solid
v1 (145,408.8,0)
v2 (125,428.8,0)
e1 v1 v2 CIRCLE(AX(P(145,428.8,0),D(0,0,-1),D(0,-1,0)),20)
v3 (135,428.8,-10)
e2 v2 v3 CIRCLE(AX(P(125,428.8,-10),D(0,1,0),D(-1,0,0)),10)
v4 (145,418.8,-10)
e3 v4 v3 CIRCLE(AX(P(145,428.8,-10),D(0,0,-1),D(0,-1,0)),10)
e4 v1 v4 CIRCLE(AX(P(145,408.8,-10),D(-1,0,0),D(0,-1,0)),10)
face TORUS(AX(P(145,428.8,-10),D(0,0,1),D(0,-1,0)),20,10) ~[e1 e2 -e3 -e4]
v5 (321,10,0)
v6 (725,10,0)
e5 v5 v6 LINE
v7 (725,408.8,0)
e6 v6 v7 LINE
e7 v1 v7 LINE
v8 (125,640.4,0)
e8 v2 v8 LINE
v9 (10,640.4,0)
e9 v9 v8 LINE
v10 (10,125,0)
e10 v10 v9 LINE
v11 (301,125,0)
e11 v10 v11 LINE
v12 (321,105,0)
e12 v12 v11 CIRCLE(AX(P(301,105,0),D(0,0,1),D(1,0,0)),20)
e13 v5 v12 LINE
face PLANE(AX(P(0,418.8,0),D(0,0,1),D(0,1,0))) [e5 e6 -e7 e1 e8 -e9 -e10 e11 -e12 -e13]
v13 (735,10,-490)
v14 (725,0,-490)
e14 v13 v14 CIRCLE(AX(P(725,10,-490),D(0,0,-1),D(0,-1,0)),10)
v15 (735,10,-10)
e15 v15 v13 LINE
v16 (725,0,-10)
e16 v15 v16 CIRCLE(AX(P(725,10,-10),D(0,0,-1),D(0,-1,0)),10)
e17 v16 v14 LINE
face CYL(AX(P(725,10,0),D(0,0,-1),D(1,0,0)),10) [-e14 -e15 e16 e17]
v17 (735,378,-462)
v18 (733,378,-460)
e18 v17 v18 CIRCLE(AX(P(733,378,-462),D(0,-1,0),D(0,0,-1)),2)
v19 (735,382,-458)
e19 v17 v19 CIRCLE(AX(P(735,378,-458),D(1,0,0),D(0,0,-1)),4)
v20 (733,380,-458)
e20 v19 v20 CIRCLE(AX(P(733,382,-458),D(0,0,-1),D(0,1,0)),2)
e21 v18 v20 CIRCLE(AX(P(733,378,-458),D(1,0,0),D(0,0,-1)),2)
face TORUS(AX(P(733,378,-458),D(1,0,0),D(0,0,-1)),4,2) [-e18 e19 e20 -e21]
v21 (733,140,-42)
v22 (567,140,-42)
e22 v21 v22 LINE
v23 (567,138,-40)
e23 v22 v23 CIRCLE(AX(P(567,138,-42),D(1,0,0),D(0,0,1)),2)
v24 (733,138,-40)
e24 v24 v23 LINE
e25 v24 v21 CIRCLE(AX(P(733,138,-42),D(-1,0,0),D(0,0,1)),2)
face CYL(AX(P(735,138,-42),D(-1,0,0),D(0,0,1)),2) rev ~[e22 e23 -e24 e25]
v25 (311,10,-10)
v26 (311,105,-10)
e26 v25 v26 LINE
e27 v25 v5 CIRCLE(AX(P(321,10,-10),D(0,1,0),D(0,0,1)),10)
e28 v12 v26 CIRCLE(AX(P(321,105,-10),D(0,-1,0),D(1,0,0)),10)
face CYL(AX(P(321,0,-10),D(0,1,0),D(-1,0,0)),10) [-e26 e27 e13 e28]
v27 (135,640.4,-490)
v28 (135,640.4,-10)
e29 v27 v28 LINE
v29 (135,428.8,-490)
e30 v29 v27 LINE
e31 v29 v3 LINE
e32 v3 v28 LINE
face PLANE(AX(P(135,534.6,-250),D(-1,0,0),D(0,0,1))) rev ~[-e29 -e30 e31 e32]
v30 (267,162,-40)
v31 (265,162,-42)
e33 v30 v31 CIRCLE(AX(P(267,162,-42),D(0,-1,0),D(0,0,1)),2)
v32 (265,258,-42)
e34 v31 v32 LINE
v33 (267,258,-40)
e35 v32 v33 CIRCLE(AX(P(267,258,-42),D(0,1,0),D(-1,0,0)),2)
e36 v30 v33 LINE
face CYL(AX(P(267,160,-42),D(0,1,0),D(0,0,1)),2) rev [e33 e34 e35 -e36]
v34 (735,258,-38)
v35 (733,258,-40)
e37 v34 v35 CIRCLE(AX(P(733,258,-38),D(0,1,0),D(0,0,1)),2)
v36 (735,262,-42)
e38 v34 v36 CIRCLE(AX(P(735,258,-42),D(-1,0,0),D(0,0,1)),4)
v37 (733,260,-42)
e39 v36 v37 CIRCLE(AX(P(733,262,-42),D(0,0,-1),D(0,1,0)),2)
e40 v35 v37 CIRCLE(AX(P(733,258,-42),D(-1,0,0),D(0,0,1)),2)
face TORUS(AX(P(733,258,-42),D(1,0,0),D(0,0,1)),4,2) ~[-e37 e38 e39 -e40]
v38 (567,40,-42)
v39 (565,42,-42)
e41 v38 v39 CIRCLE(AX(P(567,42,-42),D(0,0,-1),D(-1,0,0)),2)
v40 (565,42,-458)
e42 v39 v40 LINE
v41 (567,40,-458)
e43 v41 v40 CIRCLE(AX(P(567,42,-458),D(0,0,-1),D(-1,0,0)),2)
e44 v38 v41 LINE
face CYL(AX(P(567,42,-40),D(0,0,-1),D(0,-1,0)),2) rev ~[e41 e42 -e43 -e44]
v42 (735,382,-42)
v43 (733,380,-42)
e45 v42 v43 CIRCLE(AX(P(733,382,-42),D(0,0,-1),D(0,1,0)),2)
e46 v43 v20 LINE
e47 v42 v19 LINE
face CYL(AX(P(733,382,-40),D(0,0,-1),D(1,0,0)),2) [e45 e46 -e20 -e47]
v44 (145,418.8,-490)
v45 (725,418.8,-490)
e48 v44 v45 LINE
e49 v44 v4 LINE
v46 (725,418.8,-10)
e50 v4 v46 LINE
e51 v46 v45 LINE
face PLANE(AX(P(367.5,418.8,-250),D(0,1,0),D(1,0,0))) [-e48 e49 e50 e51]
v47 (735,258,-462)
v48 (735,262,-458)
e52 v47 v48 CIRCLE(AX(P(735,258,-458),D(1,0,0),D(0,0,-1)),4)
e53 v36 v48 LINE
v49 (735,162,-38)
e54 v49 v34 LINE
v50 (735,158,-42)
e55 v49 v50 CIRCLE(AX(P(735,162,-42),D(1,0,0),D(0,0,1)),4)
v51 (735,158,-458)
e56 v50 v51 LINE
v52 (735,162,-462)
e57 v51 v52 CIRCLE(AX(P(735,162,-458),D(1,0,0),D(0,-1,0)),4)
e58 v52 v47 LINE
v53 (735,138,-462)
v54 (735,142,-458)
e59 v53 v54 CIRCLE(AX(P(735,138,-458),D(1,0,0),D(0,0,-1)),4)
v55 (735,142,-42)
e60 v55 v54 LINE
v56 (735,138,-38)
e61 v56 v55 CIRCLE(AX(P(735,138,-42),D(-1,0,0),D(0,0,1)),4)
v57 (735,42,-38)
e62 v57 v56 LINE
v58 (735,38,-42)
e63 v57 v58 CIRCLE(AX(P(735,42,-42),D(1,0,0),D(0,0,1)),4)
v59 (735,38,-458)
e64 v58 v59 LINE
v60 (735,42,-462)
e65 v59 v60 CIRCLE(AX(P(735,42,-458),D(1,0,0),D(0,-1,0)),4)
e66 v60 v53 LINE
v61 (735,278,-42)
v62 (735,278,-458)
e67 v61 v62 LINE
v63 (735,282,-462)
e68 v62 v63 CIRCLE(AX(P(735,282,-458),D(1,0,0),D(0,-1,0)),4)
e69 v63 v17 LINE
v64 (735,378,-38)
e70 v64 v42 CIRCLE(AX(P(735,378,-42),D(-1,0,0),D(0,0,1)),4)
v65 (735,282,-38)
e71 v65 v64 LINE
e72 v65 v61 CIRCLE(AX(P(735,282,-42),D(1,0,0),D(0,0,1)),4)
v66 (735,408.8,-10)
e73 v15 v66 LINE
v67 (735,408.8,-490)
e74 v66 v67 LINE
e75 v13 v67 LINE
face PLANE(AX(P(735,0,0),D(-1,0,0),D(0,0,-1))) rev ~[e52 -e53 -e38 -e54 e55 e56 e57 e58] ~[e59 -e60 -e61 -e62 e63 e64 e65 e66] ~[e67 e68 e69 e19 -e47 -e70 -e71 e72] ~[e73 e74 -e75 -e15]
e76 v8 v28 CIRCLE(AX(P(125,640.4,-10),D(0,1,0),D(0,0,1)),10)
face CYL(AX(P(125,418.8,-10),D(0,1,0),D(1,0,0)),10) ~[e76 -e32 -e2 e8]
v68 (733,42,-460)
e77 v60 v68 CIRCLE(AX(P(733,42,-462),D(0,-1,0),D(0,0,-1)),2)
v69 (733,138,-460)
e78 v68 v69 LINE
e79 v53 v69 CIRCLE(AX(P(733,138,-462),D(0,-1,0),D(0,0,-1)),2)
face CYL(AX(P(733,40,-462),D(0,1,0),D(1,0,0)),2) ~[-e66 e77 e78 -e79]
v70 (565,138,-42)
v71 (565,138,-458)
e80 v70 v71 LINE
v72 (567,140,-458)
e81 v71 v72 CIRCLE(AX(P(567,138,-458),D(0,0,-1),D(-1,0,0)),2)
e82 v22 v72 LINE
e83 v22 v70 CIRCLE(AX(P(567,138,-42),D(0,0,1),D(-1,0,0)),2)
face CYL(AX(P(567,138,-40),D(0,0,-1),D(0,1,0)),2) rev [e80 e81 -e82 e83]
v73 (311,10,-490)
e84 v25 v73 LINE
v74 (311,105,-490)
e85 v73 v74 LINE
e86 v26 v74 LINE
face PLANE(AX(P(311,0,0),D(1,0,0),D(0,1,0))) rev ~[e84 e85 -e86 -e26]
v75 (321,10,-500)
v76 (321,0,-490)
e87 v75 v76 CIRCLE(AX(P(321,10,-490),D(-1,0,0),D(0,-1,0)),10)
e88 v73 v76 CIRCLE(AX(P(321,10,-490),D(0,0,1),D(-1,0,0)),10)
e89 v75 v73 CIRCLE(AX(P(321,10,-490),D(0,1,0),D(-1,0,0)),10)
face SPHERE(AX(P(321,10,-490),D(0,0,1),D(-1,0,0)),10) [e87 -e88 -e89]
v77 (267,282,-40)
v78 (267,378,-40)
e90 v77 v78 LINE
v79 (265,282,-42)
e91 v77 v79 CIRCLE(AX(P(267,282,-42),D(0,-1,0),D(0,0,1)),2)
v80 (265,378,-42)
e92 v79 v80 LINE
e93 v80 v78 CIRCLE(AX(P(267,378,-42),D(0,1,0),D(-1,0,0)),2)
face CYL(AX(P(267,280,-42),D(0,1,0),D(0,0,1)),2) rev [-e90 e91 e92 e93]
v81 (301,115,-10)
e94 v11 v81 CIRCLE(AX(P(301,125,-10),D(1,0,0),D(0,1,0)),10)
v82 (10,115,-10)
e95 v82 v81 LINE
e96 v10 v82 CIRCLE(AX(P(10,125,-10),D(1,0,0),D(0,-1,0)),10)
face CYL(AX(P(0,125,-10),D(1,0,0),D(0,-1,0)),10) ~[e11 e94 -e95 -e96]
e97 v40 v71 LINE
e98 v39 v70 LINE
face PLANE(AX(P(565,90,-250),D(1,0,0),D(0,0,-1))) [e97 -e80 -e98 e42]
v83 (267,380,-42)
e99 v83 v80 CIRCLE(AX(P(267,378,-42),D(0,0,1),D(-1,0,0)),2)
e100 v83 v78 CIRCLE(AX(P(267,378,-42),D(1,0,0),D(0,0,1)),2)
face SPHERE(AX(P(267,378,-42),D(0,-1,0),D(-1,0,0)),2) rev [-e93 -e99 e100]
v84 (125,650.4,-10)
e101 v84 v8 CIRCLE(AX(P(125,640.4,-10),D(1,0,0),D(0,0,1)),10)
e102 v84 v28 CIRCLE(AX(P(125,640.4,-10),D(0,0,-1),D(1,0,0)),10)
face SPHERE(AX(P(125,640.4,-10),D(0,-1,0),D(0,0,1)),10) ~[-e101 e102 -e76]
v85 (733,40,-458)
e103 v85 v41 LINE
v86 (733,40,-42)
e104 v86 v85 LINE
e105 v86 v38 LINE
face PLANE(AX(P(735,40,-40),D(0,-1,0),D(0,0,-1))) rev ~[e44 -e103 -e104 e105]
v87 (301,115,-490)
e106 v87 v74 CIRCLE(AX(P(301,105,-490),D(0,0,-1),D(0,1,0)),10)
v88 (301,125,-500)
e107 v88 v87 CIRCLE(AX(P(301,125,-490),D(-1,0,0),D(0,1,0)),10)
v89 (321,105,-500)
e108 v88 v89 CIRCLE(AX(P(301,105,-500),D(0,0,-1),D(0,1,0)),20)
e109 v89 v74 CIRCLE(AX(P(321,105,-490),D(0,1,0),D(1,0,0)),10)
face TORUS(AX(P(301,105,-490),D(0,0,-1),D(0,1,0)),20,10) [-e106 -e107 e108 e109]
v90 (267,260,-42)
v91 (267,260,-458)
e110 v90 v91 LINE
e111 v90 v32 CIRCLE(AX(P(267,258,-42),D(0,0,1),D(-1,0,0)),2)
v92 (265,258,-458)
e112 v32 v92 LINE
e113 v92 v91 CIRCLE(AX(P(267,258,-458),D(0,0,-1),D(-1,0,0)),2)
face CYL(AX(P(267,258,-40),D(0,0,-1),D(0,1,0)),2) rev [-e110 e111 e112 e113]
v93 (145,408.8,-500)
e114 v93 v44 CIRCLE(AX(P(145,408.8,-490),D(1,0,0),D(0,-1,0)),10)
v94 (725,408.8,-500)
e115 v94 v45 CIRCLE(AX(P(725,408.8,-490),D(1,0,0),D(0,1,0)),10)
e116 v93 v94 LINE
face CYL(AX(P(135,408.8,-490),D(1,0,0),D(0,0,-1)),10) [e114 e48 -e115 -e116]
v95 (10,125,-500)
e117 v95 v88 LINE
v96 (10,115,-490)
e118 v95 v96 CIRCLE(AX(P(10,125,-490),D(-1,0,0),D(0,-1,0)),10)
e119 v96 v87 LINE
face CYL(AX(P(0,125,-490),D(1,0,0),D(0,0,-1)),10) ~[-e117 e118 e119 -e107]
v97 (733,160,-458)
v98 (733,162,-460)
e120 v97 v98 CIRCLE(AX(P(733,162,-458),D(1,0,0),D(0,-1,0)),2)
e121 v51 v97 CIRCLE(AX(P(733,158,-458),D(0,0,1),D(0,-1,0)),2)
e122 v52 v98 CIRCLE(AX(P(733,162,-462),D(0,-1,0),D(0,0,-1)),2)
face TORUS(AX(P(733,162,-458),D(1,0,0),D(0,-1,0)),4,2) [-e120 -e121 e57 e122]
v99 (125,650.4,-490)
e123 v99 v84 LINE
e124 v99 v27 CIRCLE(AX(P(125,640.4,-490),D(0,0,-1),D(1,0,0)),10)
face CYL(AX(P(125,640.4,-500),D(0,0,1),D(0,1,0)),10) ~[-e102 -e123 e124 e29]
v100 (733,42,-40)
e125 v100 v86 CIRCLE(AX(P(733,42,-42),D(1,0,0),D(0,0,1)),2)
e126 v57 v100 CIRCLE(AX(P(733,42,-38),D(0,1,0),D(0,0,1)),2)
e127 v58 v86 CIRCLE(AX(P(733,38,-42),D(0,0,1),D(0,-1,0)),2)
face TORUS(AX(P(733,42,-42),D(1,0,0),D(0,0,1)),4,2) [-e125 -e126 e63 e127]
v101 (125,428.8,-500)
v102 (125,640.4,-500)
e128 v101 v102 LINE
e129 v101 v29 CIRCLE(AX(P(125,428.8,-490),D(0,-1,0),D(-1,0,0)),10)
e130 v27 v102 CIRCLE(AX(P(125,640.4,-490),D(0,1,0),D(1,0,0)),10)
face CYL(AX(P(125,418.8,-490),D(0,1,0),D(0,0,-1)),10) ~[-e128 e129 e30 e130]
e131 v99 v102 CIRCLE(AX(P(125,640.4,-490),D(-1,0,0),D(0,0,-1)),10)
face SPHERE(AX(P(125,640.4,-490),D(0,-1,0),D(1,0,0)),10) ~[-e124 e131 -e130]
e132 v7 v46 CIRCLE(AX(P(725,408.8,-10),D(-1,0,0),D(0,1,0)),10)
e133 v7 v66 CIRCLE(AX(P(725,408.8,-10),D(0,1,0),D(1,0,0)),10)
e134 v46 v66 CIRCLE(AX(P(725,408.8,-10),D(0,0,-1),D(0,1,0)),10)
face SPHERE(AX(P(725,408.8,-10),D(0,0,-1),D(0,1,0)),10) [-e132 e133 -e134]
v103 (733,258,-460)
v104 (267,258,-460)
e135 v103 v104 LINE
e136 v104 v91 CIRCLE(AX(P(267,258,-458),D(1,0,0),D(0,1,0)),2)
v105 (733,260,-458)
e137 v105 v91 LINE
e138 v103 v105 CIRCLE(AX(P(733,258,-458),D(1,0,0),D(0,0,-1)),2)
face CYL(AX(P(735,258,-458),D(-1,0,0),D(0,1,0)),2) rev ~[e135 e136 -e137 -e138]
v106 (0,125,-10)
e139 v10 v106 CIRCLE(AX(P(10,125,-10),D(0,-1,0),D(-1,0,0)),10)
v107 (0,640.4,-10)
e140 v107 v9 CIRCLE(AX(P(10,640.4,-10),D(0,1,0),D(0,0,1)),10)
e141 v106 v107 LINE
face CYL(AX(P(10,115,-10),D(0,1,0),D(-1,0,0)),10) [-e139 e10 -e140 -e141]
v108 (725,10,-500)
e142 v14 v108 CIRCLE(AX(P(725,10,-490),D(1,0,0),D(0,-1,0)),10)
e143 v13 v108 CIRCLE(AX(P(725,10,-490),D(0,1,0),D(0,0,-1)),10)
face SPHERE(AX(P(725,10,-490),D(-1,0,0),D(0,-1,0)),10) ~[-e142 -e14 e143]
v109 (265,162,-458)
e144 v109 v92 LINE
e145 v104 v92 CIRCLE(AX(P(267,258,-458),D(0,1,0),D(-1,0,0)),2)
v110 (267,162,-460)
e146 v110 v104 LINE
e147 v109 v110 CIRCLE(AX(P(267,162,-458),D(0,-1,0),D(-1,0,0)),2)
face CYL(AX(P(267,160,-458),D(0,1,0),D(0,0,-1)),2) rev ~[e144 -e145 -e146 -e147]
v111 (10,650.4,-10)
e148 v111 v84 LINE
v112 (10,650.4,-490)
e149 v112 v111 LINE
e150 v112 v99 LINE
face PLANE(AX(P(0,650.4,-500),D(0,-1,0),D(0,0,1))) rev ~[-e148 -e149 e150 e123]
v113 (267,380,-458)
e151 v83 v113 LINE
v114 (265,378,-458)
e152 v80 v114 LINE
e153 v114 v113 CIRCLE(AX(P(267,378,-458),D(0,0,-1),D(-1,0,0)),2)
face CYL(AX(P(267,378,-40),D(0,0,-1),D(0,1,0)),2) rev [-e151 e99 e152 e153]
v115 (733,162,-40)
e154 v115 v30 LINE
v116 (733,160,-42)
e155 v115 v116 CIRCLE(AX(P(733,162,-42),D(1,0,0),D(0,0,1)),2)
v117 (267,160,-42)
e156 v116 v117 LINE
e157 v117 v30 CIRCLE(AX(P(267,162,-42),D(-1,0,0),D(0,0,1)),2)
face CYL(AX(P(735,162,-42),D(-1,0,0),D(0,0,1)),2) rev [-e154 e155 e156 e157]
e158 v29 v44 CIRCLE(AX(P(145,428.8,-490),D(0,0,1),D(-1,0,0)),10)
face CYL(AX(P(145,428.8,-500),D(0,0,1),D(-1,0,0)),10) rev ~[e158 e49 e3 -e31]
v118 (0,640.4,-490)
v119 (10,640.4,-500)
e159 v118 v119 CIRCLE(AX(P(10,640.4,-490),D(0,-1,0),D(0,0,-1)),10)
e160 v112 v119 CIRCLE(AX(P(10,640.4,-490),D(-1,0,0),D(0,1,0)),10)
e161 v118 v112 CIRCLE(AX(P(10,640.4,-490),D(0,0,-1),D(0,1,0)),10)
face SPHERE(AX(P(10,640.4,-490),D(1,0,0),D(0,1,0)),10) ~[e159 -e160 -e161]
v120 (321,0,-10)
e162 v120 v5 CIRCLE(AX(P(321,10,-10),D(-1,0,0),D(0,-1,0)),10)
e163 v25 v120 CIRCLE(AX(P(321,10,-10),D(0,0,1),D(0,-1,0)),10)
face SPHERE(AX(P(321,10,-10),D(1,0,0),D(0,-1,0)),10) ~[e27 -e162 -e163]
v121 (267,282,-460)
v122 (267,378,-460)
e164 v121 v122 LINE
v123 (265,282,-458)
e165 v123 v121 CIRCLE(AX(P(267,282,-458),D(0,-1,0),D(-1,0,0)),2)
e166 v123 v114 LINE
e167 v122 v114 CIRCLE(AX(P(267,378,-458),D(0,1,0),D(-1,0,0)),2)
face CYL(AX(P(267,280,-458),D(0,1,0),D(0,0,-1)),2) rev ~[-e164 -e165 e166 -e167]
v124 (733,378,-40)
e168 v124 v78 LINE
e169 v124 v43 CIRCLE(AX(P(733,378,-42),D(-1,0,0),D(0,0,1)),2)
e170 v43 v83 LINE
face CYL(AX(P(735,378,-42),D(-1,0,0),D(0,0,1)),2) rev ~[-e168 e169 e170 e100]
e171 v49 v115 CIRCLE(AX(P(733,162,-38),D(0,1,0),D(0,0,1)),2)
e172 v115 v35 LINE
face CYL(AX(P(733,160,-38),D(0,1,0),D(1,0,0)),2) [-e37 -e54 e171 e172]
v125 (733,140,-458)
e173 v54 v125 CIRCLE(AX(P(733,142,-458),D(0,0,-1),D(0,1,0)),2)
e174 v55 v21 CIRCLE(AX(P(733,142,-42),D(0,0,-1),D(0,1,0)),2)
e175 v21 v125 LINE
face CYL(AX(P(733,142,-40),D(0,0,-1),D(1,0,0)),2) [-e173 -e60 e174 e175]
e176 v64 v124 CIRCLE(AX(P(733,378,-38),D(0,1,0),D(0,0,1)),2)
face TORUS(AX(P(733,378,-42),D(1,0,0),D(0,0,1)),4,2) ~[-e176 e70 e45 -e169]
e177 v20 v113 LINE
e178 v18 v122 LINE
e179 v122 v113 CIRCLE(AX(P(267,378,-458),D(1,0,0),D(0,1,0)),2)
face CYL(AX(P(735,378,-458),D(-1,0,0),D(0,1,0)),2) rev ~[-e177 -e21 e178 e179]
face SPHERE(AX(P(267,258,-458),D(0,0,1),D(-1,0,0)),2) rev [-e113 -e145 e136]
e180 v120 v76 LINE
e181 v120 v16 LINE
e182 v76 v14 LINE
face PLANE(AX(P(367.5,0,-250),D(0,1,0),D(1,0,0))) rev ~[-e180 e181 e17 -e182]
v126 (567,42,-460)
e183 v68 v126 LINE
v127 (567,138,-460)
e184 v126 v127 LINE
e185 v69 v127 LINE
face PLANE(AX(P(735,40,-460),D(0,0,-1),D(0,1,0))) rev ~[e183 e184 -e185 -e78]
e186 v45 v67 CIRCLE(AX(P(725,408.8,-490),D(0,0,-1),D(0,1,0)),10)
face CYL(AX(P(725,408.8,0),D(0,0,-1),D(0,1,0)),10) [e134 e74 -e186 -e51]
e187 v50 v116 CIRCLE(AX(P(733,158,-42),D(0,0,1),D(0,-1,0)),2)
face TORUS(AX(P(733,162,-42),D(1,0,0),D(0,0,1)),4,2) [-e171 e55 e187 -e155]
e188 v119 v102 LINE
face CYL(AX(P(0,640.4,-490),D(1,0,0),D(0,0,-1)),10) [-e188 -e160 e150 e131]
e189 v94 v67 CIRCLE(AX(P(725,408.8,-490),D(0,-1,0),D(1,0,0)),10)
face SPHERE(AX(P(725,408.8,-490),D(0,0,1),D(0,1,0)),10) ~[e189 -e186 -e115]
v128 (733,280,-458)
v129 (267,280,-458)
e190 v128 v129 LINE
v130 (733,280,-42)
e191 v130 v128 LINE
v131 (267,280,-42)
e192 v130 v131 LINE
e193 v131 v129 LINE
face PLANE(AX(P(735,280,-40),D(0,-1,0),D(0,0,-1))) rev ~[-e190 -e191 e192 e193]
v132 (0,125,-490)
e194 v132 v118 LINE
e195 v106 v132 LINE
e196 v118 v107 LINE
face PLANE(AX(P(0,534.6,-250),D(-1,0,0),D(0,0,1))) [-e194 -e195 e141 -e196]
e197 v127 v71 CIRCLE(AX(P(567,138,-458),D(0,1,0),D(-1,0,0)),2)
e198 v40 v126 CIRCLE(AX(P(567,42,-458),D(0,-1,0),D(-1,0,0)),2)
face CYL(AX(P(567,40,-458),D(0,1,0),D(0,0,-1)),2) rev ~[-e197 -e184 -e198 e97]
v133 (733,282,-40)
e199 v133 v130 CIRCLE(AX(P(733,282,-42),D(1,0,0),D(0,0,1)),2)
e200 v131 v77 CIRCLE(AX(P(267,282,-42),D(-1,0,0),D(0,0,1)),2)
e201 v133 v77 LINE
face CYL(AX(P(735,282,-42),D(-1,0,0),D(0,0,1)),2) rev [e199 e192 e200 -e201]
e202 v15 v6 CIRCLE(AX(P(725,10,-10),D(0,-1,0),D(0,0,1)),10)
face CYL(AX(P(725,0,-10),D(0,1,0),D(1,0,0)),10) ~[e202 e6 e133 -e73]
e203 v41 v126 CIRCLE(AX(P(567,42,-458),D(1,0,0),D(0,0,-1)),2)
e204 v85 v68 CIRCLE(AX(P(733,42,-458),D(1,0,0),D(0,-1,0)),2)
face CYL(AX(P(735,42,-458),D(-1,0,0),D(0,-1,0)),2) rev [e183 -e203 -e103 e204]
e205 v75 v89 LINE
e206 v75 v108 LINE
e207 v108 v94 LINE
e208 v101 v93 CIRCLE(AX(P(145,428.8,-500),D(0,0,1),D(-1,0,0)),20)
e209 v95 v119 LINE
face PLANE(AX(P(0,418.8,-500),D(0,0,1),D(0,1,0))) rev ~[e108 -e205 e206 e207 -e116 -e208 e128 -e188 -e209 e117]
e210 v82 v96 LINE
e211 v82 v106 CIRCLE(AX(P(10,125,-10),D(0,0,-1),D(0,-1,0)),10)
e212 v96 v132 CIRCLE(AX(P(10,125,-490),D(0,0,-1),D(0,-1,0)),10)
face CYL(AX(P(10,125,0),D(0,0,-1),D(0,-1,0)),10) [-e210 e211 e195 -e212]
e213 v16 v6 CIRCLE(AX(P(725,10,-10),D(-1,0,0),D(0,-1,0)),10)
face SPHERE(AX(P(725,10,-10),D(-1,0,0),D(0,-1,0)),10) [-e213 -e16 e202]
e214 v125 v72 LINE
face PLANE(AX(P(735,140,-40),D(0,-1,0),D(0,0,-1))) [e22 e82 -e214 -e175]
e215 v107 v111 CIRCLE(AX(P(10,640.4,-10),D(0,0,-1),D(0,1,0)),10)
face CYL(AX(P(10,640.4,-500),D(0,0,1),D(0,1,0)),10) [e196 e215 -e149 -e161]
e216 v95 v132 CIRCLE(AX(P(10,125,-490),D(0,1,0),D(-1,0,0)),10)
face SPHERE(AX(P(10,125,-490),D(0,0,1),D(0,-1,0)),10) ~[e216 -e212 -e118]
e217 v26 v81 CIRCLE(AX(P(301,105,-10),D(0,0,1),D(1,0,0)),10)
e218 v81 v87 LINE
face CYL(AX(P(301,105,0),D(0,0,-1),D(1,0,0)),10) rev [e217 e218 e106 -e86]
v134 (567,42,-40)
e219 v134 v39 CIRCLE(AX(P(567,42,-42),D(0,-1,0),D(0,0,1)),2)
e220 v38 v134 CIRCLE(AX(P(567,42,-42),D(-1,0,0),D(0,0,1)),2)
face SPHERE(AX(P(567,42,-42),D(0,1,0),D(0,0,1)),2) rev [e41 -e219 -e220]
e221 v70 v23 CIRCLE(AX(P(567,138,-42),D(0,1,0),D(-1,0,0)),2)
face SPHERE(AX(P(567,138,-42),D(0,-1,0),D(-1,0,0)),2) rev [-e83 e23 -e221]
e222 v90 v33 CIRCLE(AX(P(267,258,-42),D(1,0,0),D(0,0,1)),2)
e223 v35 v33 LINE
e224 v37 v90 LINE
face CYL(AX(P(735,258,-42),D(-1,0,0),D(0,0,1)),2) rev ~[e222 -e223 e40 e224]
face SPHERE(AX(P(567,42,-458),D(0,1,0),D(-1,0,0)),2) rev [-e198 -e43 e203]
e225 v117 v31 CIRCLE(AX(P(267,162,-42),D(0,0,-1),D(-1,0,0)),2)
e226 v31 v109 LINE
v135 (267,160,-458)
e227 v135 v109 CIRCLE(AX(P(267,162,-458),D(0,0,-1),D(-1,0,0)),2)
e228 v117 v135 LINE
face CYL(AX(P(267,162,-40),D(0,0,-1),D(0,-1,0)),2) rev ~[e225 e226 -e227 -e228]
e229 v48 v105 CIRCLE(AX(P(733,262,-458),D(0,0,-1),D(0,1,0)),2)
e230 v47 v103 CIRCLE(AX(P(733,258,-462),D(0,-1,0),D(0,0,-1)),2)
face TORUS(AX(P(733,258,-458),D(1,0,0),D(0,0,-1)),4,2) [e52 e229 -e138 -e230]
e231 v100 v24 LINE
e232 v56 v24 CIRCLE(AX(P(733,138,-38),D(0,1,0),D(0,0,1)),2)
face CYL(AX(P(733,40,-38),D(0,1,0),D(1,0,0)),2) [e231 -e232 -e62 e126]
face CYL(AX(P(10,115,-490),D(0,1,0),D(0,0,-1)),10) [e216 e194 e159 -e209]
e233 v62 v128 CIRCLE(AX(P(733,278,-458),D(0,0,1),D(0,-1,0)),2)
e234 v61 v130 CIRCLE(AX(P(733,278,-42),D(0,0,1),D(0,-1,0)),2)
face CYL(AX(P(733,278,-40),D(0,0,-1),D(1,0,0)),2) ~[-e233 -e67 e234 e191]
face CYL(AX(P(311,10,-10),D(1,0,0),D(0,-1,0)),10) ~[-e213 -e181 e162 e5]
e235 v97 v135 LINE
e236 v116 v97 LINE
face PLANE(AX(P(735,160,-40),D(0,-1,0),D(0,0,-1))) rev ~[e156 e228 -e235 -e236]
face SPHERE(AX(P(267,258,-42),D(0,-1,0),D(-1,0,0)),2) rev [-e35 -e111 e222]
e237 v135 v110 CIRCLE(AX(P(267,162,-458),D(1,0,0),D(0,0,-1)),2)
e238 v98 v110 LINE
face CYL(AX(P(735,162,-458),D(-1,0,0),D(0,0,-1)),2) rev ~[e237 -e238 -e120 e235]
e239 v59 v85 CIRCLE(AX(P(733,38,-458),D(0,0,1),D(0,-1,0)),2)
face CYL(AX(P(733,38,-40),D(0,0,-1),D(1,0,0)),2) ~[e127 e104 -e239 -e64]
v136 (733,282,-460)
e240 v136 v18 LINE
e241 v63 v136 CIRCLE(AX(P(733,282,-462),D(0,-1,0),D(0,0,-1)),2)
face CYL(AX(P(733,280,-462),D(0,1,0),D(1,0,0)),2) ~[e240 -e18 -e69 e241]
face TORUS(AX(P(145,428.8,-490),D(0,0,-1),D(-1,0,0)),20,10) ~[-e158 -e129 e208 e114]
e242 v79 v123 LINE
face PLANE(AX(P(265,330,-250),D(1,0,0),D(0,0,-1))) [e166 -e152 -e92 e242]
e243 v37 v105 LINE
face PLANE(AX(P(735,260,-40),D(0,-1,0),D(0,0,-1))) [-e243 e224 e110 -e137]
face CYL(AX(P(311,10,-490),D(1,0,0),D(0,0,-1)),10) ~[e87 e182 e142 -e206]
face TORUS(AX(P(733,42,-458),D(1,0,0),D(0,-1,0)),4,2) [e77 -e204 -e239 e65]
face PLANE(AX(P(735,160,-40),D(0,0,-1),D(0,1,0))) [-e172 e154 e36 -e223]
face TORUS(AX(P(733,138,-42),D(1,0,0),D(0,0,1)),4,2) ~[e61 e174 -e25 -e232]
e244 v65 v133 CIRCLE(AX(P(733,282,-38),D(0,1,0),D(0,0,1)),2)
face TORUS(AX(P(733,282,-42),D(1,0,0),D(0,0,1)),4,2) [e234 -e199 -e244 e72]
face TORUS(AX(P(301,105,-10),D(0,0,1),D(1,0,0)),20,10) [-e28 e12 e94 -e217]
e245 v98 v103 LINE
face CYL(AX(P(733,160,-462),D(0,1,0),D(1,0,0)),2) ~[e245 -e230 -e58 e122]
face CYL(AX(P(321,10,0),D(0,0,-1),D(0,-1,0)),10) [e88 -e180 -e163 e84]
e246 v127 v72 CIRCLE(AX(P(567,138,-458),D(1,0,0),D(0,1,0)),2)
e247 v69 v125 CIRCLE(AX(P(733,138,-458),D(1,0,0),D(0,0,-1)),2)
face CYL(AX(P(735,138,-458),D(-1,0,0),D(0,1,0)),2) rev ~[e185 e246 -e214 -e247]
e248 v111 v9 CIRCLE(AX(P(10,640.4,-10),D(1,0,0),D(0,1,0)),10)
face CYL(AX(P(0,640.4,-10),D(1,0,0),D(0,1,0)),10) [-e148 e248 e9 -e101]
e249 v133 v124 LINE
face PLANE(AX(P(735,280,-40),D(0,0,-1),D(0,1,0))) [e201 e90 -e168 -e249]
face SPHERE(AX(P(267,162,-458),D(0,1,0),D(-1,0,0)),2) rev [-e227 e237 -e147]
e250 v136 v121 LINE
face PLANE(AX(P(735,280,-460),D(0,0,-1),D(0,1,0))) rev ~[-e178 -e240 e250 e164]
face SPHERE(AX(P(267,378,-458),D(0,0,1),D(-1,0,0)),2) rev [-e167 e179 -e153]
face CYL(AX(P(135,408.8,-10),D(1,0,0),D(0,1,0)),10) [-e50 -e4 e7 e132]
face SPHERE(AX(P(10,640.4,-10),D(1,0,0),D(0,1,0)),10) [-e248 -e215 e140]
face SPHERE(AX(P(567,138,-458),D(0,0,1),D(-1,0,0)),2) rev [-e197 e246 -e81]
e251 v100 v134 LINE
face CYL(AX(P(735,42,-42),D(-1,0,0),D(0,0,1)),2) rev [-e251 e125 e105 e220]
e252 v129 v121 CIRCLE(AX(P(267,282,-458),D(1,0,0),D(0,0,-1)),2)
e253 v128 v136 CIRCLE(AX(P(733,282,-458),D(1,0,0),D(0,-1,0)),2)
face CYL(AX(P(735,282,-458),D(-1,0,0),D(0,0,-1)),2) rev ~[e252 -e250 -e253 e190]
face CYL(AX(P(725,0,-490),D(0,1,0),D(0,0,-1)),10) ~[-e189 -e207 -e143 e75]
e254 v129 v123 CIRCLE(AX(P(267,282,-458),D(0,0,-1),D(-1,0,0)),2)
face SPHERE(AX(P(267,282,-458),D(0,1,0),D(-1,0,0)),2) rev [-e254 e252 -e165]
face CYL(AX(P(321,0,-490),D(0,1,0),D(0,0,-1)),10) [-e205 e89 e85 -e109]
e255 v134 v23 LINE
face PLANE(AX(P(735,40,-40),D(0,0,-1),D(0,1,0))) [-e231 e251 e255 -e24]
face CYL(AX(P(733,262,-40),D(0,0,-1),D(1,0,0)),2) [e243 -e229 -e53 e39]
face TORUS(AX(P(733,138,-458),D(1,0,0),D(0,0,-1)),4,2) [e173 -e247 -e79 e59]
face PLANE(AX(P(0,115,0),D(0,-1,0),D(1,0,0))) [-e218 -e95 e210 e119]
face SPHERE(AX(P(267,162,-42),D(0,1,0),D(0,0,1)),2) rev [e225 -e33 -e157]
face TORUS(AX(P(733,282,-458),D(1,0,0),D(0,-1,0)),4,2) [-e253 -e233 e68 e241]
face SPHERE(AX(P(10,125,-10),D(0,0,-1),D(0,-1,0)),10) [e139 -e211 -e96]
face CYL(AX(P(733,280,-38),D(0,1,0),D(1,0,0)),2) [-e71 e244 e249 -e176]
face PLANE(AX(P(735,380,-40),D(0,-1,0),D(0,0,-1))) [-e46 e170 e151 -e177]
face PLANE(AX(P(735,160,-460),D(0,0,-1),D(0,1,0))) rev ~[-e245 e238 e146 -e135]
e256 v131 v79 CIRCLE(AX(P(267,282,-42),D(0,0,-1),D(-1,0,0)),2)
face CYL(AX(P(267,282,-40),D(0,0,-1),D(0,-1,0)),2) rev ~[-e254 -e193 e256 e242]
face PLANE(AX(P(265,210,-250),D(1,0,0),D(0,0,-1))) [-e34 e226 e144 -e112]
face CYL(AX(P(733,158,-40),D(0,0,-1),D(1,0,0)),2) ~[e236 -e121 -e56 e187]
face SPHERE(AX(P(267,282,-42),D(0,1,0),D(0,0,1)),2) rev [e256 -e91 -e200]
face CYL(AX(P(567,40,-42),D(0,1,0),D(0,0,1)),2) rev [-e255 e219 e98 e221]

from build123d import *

# Parameters (mm, degrees)
SKETCH1_W           = 735
SKETCH1_H           = 500
BOSS_EXTRUDE1_DEPTH = 418.8
SKETCH6_W           = 500
SKETCH6_H           = 231.6
BOSS_EXTRUDE2_DEPTH = 135
SKETCH2_W           = 311
SKETCH2_H           = 115
CUT_EXTRUDE1_DEPTH  = 500
FILLET1_R           = 10
SKETCH4_W           = 420
SKETCH4_H           = 100
CUT_EXTRUDE2_DEPTH  = 170
SKETCH5_W           = 420
SKETCH5_H           = 100
CUT_EXTRUDE3_DEPTH  = 470
FILLET2_R           = 2


with BuildPart() as part:
    # Sketch1 → Boss-Extrude1 (new body)
    with BuildSketch(Plane(origin=(0, 0, 0), x_dir=(1, 0, 0), z_dir=(0, 1, 0))):
        with Locations((367.5, 250)):
            Rectangle(SKETCH1_W, SKETCH1_H)
    extrude(amount=BOSS_EXTRUDE1_DEPTH)

    # Sketch6 → Boss-Extrude2 (add)
    with BuildSketch(Plane.ZY):
        with Locations((-250, 534.6)):
            Rectangle(SKETCH6_W, SKETCH6_H)
    extrude(amount=-BOSS_EXTRUDE2_DEPTH)

    # Sketch2 → Cut-Extrude1 (cut)
    with BuildSketch(Plane.XY):
        with Locations((155.5, 57.5)):
            Rectangle(SKETCH2_W, SKETCH2_H)
    extrude(amount=-CUT_EXTRUDE1_DEPTH, mode=Mode.SUBTRACT)

    # Fillet1
    fillet1_edges = [part.edges().sort_by_distance(p)[0] for p in [
        (735, 418.8, -250),
        (435, 418.8, 0),
        (135, 534.6, 0),
        (67.5, 650.4, 0),
        (135, 418.8, -250),
        (135, 534.6, -500),
        (135, 650.4, -250),
        (67.5, 650.4, -500),
        (435, 418.8, -500),
        (0, 650.4, -250),
        (523, 0, 0),
        (0, 115, -250),
        (311, 115, -250),
        (311, 0, -250),
        (311, 57.5, 0),
        (155.5, 115, 0),
        (155.5, 115, -500),
        (311, 57.5, -500),
        (523, 0, -500),
        (735, 0, -250),
        (0, 382.7, -500),
        (735, 209.4, -500),
        (735, 209.4, 0),
        (0, 382.7, 0),
    ]]
    fillet(fillet1_edges, radius=FILLET1_R)

    # Sketch4 → Cut-Extrude2 (cut)
    with BuildSketch(Plane(origin=(735, 0, 0), x_dir=(0, 0, -1), z_dir=(1, 0, 0))):
        with Locations((250, 90)):
            Rectangle(SKETCH4_W, SKETCH4_H)
    extrude(amount=-CUT_EXTRUDE2_DEPTH, mode=Mode.SUBTRACT)

    # Sketch5 → Cut-Extrude3 (cut)
    with BuildSketch(Plane(origin=(735, 0, 0), x_dir=(0, 0, -1), z_dir=(1, 0, 0))):
        with Locations((250, 210)):
            Rectangle(SKETCH5_W, SKETCH5_H)
        with Locations((250, 330)):
            Rectangle(SKETCH5_W, SKETCH5_H)
    extrude(amount=-CUT_EXTRUDE3_DEPTH, mode=Mode.SUBTRACT)

    # Fillet2
    fillet2_edges = [part.edges().sort_by_distance(p)[0] for p in [
        (565, 90, -40),
        (650, 40, -40),
        (565, 140, -250),
        (650, 140, -40),
        (565, 90, -460),
        (650, 140, -460),
        (565, 40, -250),
        (650, 40, -460),
        (735, 90, -40),
        (735, 40, -250),
        (735, 90, -460),
        (735, 140, -250),
        (265, 210, -40),
        (500, 160, -40),
        (265, 260, -250),
        (500, 260, -40),
        (265, 210, -460),
        (500, 260, -460),
        (265, 160, -250),
        (500, 160, -460),
        (735, 210, -40),
        (735, 160, -250),
        (735, 210, -460),
        (735, 260, -250),
        (265, 330, -40),
        (500, 280, -40),
        (265, 380, -250),
        (500, 380, -40),
        (265, 330, -460),
        (500, 380, -460),
        (265, 280, -250),
        (500, 280, -460),
        (735, 330, -40),
        (735, 280, -250),
        (735, 330, -460),
        (735, 380, -250),
    ]]
    fillet(fillet2_edges, radius=FILLET2_R)


solid = part.part
